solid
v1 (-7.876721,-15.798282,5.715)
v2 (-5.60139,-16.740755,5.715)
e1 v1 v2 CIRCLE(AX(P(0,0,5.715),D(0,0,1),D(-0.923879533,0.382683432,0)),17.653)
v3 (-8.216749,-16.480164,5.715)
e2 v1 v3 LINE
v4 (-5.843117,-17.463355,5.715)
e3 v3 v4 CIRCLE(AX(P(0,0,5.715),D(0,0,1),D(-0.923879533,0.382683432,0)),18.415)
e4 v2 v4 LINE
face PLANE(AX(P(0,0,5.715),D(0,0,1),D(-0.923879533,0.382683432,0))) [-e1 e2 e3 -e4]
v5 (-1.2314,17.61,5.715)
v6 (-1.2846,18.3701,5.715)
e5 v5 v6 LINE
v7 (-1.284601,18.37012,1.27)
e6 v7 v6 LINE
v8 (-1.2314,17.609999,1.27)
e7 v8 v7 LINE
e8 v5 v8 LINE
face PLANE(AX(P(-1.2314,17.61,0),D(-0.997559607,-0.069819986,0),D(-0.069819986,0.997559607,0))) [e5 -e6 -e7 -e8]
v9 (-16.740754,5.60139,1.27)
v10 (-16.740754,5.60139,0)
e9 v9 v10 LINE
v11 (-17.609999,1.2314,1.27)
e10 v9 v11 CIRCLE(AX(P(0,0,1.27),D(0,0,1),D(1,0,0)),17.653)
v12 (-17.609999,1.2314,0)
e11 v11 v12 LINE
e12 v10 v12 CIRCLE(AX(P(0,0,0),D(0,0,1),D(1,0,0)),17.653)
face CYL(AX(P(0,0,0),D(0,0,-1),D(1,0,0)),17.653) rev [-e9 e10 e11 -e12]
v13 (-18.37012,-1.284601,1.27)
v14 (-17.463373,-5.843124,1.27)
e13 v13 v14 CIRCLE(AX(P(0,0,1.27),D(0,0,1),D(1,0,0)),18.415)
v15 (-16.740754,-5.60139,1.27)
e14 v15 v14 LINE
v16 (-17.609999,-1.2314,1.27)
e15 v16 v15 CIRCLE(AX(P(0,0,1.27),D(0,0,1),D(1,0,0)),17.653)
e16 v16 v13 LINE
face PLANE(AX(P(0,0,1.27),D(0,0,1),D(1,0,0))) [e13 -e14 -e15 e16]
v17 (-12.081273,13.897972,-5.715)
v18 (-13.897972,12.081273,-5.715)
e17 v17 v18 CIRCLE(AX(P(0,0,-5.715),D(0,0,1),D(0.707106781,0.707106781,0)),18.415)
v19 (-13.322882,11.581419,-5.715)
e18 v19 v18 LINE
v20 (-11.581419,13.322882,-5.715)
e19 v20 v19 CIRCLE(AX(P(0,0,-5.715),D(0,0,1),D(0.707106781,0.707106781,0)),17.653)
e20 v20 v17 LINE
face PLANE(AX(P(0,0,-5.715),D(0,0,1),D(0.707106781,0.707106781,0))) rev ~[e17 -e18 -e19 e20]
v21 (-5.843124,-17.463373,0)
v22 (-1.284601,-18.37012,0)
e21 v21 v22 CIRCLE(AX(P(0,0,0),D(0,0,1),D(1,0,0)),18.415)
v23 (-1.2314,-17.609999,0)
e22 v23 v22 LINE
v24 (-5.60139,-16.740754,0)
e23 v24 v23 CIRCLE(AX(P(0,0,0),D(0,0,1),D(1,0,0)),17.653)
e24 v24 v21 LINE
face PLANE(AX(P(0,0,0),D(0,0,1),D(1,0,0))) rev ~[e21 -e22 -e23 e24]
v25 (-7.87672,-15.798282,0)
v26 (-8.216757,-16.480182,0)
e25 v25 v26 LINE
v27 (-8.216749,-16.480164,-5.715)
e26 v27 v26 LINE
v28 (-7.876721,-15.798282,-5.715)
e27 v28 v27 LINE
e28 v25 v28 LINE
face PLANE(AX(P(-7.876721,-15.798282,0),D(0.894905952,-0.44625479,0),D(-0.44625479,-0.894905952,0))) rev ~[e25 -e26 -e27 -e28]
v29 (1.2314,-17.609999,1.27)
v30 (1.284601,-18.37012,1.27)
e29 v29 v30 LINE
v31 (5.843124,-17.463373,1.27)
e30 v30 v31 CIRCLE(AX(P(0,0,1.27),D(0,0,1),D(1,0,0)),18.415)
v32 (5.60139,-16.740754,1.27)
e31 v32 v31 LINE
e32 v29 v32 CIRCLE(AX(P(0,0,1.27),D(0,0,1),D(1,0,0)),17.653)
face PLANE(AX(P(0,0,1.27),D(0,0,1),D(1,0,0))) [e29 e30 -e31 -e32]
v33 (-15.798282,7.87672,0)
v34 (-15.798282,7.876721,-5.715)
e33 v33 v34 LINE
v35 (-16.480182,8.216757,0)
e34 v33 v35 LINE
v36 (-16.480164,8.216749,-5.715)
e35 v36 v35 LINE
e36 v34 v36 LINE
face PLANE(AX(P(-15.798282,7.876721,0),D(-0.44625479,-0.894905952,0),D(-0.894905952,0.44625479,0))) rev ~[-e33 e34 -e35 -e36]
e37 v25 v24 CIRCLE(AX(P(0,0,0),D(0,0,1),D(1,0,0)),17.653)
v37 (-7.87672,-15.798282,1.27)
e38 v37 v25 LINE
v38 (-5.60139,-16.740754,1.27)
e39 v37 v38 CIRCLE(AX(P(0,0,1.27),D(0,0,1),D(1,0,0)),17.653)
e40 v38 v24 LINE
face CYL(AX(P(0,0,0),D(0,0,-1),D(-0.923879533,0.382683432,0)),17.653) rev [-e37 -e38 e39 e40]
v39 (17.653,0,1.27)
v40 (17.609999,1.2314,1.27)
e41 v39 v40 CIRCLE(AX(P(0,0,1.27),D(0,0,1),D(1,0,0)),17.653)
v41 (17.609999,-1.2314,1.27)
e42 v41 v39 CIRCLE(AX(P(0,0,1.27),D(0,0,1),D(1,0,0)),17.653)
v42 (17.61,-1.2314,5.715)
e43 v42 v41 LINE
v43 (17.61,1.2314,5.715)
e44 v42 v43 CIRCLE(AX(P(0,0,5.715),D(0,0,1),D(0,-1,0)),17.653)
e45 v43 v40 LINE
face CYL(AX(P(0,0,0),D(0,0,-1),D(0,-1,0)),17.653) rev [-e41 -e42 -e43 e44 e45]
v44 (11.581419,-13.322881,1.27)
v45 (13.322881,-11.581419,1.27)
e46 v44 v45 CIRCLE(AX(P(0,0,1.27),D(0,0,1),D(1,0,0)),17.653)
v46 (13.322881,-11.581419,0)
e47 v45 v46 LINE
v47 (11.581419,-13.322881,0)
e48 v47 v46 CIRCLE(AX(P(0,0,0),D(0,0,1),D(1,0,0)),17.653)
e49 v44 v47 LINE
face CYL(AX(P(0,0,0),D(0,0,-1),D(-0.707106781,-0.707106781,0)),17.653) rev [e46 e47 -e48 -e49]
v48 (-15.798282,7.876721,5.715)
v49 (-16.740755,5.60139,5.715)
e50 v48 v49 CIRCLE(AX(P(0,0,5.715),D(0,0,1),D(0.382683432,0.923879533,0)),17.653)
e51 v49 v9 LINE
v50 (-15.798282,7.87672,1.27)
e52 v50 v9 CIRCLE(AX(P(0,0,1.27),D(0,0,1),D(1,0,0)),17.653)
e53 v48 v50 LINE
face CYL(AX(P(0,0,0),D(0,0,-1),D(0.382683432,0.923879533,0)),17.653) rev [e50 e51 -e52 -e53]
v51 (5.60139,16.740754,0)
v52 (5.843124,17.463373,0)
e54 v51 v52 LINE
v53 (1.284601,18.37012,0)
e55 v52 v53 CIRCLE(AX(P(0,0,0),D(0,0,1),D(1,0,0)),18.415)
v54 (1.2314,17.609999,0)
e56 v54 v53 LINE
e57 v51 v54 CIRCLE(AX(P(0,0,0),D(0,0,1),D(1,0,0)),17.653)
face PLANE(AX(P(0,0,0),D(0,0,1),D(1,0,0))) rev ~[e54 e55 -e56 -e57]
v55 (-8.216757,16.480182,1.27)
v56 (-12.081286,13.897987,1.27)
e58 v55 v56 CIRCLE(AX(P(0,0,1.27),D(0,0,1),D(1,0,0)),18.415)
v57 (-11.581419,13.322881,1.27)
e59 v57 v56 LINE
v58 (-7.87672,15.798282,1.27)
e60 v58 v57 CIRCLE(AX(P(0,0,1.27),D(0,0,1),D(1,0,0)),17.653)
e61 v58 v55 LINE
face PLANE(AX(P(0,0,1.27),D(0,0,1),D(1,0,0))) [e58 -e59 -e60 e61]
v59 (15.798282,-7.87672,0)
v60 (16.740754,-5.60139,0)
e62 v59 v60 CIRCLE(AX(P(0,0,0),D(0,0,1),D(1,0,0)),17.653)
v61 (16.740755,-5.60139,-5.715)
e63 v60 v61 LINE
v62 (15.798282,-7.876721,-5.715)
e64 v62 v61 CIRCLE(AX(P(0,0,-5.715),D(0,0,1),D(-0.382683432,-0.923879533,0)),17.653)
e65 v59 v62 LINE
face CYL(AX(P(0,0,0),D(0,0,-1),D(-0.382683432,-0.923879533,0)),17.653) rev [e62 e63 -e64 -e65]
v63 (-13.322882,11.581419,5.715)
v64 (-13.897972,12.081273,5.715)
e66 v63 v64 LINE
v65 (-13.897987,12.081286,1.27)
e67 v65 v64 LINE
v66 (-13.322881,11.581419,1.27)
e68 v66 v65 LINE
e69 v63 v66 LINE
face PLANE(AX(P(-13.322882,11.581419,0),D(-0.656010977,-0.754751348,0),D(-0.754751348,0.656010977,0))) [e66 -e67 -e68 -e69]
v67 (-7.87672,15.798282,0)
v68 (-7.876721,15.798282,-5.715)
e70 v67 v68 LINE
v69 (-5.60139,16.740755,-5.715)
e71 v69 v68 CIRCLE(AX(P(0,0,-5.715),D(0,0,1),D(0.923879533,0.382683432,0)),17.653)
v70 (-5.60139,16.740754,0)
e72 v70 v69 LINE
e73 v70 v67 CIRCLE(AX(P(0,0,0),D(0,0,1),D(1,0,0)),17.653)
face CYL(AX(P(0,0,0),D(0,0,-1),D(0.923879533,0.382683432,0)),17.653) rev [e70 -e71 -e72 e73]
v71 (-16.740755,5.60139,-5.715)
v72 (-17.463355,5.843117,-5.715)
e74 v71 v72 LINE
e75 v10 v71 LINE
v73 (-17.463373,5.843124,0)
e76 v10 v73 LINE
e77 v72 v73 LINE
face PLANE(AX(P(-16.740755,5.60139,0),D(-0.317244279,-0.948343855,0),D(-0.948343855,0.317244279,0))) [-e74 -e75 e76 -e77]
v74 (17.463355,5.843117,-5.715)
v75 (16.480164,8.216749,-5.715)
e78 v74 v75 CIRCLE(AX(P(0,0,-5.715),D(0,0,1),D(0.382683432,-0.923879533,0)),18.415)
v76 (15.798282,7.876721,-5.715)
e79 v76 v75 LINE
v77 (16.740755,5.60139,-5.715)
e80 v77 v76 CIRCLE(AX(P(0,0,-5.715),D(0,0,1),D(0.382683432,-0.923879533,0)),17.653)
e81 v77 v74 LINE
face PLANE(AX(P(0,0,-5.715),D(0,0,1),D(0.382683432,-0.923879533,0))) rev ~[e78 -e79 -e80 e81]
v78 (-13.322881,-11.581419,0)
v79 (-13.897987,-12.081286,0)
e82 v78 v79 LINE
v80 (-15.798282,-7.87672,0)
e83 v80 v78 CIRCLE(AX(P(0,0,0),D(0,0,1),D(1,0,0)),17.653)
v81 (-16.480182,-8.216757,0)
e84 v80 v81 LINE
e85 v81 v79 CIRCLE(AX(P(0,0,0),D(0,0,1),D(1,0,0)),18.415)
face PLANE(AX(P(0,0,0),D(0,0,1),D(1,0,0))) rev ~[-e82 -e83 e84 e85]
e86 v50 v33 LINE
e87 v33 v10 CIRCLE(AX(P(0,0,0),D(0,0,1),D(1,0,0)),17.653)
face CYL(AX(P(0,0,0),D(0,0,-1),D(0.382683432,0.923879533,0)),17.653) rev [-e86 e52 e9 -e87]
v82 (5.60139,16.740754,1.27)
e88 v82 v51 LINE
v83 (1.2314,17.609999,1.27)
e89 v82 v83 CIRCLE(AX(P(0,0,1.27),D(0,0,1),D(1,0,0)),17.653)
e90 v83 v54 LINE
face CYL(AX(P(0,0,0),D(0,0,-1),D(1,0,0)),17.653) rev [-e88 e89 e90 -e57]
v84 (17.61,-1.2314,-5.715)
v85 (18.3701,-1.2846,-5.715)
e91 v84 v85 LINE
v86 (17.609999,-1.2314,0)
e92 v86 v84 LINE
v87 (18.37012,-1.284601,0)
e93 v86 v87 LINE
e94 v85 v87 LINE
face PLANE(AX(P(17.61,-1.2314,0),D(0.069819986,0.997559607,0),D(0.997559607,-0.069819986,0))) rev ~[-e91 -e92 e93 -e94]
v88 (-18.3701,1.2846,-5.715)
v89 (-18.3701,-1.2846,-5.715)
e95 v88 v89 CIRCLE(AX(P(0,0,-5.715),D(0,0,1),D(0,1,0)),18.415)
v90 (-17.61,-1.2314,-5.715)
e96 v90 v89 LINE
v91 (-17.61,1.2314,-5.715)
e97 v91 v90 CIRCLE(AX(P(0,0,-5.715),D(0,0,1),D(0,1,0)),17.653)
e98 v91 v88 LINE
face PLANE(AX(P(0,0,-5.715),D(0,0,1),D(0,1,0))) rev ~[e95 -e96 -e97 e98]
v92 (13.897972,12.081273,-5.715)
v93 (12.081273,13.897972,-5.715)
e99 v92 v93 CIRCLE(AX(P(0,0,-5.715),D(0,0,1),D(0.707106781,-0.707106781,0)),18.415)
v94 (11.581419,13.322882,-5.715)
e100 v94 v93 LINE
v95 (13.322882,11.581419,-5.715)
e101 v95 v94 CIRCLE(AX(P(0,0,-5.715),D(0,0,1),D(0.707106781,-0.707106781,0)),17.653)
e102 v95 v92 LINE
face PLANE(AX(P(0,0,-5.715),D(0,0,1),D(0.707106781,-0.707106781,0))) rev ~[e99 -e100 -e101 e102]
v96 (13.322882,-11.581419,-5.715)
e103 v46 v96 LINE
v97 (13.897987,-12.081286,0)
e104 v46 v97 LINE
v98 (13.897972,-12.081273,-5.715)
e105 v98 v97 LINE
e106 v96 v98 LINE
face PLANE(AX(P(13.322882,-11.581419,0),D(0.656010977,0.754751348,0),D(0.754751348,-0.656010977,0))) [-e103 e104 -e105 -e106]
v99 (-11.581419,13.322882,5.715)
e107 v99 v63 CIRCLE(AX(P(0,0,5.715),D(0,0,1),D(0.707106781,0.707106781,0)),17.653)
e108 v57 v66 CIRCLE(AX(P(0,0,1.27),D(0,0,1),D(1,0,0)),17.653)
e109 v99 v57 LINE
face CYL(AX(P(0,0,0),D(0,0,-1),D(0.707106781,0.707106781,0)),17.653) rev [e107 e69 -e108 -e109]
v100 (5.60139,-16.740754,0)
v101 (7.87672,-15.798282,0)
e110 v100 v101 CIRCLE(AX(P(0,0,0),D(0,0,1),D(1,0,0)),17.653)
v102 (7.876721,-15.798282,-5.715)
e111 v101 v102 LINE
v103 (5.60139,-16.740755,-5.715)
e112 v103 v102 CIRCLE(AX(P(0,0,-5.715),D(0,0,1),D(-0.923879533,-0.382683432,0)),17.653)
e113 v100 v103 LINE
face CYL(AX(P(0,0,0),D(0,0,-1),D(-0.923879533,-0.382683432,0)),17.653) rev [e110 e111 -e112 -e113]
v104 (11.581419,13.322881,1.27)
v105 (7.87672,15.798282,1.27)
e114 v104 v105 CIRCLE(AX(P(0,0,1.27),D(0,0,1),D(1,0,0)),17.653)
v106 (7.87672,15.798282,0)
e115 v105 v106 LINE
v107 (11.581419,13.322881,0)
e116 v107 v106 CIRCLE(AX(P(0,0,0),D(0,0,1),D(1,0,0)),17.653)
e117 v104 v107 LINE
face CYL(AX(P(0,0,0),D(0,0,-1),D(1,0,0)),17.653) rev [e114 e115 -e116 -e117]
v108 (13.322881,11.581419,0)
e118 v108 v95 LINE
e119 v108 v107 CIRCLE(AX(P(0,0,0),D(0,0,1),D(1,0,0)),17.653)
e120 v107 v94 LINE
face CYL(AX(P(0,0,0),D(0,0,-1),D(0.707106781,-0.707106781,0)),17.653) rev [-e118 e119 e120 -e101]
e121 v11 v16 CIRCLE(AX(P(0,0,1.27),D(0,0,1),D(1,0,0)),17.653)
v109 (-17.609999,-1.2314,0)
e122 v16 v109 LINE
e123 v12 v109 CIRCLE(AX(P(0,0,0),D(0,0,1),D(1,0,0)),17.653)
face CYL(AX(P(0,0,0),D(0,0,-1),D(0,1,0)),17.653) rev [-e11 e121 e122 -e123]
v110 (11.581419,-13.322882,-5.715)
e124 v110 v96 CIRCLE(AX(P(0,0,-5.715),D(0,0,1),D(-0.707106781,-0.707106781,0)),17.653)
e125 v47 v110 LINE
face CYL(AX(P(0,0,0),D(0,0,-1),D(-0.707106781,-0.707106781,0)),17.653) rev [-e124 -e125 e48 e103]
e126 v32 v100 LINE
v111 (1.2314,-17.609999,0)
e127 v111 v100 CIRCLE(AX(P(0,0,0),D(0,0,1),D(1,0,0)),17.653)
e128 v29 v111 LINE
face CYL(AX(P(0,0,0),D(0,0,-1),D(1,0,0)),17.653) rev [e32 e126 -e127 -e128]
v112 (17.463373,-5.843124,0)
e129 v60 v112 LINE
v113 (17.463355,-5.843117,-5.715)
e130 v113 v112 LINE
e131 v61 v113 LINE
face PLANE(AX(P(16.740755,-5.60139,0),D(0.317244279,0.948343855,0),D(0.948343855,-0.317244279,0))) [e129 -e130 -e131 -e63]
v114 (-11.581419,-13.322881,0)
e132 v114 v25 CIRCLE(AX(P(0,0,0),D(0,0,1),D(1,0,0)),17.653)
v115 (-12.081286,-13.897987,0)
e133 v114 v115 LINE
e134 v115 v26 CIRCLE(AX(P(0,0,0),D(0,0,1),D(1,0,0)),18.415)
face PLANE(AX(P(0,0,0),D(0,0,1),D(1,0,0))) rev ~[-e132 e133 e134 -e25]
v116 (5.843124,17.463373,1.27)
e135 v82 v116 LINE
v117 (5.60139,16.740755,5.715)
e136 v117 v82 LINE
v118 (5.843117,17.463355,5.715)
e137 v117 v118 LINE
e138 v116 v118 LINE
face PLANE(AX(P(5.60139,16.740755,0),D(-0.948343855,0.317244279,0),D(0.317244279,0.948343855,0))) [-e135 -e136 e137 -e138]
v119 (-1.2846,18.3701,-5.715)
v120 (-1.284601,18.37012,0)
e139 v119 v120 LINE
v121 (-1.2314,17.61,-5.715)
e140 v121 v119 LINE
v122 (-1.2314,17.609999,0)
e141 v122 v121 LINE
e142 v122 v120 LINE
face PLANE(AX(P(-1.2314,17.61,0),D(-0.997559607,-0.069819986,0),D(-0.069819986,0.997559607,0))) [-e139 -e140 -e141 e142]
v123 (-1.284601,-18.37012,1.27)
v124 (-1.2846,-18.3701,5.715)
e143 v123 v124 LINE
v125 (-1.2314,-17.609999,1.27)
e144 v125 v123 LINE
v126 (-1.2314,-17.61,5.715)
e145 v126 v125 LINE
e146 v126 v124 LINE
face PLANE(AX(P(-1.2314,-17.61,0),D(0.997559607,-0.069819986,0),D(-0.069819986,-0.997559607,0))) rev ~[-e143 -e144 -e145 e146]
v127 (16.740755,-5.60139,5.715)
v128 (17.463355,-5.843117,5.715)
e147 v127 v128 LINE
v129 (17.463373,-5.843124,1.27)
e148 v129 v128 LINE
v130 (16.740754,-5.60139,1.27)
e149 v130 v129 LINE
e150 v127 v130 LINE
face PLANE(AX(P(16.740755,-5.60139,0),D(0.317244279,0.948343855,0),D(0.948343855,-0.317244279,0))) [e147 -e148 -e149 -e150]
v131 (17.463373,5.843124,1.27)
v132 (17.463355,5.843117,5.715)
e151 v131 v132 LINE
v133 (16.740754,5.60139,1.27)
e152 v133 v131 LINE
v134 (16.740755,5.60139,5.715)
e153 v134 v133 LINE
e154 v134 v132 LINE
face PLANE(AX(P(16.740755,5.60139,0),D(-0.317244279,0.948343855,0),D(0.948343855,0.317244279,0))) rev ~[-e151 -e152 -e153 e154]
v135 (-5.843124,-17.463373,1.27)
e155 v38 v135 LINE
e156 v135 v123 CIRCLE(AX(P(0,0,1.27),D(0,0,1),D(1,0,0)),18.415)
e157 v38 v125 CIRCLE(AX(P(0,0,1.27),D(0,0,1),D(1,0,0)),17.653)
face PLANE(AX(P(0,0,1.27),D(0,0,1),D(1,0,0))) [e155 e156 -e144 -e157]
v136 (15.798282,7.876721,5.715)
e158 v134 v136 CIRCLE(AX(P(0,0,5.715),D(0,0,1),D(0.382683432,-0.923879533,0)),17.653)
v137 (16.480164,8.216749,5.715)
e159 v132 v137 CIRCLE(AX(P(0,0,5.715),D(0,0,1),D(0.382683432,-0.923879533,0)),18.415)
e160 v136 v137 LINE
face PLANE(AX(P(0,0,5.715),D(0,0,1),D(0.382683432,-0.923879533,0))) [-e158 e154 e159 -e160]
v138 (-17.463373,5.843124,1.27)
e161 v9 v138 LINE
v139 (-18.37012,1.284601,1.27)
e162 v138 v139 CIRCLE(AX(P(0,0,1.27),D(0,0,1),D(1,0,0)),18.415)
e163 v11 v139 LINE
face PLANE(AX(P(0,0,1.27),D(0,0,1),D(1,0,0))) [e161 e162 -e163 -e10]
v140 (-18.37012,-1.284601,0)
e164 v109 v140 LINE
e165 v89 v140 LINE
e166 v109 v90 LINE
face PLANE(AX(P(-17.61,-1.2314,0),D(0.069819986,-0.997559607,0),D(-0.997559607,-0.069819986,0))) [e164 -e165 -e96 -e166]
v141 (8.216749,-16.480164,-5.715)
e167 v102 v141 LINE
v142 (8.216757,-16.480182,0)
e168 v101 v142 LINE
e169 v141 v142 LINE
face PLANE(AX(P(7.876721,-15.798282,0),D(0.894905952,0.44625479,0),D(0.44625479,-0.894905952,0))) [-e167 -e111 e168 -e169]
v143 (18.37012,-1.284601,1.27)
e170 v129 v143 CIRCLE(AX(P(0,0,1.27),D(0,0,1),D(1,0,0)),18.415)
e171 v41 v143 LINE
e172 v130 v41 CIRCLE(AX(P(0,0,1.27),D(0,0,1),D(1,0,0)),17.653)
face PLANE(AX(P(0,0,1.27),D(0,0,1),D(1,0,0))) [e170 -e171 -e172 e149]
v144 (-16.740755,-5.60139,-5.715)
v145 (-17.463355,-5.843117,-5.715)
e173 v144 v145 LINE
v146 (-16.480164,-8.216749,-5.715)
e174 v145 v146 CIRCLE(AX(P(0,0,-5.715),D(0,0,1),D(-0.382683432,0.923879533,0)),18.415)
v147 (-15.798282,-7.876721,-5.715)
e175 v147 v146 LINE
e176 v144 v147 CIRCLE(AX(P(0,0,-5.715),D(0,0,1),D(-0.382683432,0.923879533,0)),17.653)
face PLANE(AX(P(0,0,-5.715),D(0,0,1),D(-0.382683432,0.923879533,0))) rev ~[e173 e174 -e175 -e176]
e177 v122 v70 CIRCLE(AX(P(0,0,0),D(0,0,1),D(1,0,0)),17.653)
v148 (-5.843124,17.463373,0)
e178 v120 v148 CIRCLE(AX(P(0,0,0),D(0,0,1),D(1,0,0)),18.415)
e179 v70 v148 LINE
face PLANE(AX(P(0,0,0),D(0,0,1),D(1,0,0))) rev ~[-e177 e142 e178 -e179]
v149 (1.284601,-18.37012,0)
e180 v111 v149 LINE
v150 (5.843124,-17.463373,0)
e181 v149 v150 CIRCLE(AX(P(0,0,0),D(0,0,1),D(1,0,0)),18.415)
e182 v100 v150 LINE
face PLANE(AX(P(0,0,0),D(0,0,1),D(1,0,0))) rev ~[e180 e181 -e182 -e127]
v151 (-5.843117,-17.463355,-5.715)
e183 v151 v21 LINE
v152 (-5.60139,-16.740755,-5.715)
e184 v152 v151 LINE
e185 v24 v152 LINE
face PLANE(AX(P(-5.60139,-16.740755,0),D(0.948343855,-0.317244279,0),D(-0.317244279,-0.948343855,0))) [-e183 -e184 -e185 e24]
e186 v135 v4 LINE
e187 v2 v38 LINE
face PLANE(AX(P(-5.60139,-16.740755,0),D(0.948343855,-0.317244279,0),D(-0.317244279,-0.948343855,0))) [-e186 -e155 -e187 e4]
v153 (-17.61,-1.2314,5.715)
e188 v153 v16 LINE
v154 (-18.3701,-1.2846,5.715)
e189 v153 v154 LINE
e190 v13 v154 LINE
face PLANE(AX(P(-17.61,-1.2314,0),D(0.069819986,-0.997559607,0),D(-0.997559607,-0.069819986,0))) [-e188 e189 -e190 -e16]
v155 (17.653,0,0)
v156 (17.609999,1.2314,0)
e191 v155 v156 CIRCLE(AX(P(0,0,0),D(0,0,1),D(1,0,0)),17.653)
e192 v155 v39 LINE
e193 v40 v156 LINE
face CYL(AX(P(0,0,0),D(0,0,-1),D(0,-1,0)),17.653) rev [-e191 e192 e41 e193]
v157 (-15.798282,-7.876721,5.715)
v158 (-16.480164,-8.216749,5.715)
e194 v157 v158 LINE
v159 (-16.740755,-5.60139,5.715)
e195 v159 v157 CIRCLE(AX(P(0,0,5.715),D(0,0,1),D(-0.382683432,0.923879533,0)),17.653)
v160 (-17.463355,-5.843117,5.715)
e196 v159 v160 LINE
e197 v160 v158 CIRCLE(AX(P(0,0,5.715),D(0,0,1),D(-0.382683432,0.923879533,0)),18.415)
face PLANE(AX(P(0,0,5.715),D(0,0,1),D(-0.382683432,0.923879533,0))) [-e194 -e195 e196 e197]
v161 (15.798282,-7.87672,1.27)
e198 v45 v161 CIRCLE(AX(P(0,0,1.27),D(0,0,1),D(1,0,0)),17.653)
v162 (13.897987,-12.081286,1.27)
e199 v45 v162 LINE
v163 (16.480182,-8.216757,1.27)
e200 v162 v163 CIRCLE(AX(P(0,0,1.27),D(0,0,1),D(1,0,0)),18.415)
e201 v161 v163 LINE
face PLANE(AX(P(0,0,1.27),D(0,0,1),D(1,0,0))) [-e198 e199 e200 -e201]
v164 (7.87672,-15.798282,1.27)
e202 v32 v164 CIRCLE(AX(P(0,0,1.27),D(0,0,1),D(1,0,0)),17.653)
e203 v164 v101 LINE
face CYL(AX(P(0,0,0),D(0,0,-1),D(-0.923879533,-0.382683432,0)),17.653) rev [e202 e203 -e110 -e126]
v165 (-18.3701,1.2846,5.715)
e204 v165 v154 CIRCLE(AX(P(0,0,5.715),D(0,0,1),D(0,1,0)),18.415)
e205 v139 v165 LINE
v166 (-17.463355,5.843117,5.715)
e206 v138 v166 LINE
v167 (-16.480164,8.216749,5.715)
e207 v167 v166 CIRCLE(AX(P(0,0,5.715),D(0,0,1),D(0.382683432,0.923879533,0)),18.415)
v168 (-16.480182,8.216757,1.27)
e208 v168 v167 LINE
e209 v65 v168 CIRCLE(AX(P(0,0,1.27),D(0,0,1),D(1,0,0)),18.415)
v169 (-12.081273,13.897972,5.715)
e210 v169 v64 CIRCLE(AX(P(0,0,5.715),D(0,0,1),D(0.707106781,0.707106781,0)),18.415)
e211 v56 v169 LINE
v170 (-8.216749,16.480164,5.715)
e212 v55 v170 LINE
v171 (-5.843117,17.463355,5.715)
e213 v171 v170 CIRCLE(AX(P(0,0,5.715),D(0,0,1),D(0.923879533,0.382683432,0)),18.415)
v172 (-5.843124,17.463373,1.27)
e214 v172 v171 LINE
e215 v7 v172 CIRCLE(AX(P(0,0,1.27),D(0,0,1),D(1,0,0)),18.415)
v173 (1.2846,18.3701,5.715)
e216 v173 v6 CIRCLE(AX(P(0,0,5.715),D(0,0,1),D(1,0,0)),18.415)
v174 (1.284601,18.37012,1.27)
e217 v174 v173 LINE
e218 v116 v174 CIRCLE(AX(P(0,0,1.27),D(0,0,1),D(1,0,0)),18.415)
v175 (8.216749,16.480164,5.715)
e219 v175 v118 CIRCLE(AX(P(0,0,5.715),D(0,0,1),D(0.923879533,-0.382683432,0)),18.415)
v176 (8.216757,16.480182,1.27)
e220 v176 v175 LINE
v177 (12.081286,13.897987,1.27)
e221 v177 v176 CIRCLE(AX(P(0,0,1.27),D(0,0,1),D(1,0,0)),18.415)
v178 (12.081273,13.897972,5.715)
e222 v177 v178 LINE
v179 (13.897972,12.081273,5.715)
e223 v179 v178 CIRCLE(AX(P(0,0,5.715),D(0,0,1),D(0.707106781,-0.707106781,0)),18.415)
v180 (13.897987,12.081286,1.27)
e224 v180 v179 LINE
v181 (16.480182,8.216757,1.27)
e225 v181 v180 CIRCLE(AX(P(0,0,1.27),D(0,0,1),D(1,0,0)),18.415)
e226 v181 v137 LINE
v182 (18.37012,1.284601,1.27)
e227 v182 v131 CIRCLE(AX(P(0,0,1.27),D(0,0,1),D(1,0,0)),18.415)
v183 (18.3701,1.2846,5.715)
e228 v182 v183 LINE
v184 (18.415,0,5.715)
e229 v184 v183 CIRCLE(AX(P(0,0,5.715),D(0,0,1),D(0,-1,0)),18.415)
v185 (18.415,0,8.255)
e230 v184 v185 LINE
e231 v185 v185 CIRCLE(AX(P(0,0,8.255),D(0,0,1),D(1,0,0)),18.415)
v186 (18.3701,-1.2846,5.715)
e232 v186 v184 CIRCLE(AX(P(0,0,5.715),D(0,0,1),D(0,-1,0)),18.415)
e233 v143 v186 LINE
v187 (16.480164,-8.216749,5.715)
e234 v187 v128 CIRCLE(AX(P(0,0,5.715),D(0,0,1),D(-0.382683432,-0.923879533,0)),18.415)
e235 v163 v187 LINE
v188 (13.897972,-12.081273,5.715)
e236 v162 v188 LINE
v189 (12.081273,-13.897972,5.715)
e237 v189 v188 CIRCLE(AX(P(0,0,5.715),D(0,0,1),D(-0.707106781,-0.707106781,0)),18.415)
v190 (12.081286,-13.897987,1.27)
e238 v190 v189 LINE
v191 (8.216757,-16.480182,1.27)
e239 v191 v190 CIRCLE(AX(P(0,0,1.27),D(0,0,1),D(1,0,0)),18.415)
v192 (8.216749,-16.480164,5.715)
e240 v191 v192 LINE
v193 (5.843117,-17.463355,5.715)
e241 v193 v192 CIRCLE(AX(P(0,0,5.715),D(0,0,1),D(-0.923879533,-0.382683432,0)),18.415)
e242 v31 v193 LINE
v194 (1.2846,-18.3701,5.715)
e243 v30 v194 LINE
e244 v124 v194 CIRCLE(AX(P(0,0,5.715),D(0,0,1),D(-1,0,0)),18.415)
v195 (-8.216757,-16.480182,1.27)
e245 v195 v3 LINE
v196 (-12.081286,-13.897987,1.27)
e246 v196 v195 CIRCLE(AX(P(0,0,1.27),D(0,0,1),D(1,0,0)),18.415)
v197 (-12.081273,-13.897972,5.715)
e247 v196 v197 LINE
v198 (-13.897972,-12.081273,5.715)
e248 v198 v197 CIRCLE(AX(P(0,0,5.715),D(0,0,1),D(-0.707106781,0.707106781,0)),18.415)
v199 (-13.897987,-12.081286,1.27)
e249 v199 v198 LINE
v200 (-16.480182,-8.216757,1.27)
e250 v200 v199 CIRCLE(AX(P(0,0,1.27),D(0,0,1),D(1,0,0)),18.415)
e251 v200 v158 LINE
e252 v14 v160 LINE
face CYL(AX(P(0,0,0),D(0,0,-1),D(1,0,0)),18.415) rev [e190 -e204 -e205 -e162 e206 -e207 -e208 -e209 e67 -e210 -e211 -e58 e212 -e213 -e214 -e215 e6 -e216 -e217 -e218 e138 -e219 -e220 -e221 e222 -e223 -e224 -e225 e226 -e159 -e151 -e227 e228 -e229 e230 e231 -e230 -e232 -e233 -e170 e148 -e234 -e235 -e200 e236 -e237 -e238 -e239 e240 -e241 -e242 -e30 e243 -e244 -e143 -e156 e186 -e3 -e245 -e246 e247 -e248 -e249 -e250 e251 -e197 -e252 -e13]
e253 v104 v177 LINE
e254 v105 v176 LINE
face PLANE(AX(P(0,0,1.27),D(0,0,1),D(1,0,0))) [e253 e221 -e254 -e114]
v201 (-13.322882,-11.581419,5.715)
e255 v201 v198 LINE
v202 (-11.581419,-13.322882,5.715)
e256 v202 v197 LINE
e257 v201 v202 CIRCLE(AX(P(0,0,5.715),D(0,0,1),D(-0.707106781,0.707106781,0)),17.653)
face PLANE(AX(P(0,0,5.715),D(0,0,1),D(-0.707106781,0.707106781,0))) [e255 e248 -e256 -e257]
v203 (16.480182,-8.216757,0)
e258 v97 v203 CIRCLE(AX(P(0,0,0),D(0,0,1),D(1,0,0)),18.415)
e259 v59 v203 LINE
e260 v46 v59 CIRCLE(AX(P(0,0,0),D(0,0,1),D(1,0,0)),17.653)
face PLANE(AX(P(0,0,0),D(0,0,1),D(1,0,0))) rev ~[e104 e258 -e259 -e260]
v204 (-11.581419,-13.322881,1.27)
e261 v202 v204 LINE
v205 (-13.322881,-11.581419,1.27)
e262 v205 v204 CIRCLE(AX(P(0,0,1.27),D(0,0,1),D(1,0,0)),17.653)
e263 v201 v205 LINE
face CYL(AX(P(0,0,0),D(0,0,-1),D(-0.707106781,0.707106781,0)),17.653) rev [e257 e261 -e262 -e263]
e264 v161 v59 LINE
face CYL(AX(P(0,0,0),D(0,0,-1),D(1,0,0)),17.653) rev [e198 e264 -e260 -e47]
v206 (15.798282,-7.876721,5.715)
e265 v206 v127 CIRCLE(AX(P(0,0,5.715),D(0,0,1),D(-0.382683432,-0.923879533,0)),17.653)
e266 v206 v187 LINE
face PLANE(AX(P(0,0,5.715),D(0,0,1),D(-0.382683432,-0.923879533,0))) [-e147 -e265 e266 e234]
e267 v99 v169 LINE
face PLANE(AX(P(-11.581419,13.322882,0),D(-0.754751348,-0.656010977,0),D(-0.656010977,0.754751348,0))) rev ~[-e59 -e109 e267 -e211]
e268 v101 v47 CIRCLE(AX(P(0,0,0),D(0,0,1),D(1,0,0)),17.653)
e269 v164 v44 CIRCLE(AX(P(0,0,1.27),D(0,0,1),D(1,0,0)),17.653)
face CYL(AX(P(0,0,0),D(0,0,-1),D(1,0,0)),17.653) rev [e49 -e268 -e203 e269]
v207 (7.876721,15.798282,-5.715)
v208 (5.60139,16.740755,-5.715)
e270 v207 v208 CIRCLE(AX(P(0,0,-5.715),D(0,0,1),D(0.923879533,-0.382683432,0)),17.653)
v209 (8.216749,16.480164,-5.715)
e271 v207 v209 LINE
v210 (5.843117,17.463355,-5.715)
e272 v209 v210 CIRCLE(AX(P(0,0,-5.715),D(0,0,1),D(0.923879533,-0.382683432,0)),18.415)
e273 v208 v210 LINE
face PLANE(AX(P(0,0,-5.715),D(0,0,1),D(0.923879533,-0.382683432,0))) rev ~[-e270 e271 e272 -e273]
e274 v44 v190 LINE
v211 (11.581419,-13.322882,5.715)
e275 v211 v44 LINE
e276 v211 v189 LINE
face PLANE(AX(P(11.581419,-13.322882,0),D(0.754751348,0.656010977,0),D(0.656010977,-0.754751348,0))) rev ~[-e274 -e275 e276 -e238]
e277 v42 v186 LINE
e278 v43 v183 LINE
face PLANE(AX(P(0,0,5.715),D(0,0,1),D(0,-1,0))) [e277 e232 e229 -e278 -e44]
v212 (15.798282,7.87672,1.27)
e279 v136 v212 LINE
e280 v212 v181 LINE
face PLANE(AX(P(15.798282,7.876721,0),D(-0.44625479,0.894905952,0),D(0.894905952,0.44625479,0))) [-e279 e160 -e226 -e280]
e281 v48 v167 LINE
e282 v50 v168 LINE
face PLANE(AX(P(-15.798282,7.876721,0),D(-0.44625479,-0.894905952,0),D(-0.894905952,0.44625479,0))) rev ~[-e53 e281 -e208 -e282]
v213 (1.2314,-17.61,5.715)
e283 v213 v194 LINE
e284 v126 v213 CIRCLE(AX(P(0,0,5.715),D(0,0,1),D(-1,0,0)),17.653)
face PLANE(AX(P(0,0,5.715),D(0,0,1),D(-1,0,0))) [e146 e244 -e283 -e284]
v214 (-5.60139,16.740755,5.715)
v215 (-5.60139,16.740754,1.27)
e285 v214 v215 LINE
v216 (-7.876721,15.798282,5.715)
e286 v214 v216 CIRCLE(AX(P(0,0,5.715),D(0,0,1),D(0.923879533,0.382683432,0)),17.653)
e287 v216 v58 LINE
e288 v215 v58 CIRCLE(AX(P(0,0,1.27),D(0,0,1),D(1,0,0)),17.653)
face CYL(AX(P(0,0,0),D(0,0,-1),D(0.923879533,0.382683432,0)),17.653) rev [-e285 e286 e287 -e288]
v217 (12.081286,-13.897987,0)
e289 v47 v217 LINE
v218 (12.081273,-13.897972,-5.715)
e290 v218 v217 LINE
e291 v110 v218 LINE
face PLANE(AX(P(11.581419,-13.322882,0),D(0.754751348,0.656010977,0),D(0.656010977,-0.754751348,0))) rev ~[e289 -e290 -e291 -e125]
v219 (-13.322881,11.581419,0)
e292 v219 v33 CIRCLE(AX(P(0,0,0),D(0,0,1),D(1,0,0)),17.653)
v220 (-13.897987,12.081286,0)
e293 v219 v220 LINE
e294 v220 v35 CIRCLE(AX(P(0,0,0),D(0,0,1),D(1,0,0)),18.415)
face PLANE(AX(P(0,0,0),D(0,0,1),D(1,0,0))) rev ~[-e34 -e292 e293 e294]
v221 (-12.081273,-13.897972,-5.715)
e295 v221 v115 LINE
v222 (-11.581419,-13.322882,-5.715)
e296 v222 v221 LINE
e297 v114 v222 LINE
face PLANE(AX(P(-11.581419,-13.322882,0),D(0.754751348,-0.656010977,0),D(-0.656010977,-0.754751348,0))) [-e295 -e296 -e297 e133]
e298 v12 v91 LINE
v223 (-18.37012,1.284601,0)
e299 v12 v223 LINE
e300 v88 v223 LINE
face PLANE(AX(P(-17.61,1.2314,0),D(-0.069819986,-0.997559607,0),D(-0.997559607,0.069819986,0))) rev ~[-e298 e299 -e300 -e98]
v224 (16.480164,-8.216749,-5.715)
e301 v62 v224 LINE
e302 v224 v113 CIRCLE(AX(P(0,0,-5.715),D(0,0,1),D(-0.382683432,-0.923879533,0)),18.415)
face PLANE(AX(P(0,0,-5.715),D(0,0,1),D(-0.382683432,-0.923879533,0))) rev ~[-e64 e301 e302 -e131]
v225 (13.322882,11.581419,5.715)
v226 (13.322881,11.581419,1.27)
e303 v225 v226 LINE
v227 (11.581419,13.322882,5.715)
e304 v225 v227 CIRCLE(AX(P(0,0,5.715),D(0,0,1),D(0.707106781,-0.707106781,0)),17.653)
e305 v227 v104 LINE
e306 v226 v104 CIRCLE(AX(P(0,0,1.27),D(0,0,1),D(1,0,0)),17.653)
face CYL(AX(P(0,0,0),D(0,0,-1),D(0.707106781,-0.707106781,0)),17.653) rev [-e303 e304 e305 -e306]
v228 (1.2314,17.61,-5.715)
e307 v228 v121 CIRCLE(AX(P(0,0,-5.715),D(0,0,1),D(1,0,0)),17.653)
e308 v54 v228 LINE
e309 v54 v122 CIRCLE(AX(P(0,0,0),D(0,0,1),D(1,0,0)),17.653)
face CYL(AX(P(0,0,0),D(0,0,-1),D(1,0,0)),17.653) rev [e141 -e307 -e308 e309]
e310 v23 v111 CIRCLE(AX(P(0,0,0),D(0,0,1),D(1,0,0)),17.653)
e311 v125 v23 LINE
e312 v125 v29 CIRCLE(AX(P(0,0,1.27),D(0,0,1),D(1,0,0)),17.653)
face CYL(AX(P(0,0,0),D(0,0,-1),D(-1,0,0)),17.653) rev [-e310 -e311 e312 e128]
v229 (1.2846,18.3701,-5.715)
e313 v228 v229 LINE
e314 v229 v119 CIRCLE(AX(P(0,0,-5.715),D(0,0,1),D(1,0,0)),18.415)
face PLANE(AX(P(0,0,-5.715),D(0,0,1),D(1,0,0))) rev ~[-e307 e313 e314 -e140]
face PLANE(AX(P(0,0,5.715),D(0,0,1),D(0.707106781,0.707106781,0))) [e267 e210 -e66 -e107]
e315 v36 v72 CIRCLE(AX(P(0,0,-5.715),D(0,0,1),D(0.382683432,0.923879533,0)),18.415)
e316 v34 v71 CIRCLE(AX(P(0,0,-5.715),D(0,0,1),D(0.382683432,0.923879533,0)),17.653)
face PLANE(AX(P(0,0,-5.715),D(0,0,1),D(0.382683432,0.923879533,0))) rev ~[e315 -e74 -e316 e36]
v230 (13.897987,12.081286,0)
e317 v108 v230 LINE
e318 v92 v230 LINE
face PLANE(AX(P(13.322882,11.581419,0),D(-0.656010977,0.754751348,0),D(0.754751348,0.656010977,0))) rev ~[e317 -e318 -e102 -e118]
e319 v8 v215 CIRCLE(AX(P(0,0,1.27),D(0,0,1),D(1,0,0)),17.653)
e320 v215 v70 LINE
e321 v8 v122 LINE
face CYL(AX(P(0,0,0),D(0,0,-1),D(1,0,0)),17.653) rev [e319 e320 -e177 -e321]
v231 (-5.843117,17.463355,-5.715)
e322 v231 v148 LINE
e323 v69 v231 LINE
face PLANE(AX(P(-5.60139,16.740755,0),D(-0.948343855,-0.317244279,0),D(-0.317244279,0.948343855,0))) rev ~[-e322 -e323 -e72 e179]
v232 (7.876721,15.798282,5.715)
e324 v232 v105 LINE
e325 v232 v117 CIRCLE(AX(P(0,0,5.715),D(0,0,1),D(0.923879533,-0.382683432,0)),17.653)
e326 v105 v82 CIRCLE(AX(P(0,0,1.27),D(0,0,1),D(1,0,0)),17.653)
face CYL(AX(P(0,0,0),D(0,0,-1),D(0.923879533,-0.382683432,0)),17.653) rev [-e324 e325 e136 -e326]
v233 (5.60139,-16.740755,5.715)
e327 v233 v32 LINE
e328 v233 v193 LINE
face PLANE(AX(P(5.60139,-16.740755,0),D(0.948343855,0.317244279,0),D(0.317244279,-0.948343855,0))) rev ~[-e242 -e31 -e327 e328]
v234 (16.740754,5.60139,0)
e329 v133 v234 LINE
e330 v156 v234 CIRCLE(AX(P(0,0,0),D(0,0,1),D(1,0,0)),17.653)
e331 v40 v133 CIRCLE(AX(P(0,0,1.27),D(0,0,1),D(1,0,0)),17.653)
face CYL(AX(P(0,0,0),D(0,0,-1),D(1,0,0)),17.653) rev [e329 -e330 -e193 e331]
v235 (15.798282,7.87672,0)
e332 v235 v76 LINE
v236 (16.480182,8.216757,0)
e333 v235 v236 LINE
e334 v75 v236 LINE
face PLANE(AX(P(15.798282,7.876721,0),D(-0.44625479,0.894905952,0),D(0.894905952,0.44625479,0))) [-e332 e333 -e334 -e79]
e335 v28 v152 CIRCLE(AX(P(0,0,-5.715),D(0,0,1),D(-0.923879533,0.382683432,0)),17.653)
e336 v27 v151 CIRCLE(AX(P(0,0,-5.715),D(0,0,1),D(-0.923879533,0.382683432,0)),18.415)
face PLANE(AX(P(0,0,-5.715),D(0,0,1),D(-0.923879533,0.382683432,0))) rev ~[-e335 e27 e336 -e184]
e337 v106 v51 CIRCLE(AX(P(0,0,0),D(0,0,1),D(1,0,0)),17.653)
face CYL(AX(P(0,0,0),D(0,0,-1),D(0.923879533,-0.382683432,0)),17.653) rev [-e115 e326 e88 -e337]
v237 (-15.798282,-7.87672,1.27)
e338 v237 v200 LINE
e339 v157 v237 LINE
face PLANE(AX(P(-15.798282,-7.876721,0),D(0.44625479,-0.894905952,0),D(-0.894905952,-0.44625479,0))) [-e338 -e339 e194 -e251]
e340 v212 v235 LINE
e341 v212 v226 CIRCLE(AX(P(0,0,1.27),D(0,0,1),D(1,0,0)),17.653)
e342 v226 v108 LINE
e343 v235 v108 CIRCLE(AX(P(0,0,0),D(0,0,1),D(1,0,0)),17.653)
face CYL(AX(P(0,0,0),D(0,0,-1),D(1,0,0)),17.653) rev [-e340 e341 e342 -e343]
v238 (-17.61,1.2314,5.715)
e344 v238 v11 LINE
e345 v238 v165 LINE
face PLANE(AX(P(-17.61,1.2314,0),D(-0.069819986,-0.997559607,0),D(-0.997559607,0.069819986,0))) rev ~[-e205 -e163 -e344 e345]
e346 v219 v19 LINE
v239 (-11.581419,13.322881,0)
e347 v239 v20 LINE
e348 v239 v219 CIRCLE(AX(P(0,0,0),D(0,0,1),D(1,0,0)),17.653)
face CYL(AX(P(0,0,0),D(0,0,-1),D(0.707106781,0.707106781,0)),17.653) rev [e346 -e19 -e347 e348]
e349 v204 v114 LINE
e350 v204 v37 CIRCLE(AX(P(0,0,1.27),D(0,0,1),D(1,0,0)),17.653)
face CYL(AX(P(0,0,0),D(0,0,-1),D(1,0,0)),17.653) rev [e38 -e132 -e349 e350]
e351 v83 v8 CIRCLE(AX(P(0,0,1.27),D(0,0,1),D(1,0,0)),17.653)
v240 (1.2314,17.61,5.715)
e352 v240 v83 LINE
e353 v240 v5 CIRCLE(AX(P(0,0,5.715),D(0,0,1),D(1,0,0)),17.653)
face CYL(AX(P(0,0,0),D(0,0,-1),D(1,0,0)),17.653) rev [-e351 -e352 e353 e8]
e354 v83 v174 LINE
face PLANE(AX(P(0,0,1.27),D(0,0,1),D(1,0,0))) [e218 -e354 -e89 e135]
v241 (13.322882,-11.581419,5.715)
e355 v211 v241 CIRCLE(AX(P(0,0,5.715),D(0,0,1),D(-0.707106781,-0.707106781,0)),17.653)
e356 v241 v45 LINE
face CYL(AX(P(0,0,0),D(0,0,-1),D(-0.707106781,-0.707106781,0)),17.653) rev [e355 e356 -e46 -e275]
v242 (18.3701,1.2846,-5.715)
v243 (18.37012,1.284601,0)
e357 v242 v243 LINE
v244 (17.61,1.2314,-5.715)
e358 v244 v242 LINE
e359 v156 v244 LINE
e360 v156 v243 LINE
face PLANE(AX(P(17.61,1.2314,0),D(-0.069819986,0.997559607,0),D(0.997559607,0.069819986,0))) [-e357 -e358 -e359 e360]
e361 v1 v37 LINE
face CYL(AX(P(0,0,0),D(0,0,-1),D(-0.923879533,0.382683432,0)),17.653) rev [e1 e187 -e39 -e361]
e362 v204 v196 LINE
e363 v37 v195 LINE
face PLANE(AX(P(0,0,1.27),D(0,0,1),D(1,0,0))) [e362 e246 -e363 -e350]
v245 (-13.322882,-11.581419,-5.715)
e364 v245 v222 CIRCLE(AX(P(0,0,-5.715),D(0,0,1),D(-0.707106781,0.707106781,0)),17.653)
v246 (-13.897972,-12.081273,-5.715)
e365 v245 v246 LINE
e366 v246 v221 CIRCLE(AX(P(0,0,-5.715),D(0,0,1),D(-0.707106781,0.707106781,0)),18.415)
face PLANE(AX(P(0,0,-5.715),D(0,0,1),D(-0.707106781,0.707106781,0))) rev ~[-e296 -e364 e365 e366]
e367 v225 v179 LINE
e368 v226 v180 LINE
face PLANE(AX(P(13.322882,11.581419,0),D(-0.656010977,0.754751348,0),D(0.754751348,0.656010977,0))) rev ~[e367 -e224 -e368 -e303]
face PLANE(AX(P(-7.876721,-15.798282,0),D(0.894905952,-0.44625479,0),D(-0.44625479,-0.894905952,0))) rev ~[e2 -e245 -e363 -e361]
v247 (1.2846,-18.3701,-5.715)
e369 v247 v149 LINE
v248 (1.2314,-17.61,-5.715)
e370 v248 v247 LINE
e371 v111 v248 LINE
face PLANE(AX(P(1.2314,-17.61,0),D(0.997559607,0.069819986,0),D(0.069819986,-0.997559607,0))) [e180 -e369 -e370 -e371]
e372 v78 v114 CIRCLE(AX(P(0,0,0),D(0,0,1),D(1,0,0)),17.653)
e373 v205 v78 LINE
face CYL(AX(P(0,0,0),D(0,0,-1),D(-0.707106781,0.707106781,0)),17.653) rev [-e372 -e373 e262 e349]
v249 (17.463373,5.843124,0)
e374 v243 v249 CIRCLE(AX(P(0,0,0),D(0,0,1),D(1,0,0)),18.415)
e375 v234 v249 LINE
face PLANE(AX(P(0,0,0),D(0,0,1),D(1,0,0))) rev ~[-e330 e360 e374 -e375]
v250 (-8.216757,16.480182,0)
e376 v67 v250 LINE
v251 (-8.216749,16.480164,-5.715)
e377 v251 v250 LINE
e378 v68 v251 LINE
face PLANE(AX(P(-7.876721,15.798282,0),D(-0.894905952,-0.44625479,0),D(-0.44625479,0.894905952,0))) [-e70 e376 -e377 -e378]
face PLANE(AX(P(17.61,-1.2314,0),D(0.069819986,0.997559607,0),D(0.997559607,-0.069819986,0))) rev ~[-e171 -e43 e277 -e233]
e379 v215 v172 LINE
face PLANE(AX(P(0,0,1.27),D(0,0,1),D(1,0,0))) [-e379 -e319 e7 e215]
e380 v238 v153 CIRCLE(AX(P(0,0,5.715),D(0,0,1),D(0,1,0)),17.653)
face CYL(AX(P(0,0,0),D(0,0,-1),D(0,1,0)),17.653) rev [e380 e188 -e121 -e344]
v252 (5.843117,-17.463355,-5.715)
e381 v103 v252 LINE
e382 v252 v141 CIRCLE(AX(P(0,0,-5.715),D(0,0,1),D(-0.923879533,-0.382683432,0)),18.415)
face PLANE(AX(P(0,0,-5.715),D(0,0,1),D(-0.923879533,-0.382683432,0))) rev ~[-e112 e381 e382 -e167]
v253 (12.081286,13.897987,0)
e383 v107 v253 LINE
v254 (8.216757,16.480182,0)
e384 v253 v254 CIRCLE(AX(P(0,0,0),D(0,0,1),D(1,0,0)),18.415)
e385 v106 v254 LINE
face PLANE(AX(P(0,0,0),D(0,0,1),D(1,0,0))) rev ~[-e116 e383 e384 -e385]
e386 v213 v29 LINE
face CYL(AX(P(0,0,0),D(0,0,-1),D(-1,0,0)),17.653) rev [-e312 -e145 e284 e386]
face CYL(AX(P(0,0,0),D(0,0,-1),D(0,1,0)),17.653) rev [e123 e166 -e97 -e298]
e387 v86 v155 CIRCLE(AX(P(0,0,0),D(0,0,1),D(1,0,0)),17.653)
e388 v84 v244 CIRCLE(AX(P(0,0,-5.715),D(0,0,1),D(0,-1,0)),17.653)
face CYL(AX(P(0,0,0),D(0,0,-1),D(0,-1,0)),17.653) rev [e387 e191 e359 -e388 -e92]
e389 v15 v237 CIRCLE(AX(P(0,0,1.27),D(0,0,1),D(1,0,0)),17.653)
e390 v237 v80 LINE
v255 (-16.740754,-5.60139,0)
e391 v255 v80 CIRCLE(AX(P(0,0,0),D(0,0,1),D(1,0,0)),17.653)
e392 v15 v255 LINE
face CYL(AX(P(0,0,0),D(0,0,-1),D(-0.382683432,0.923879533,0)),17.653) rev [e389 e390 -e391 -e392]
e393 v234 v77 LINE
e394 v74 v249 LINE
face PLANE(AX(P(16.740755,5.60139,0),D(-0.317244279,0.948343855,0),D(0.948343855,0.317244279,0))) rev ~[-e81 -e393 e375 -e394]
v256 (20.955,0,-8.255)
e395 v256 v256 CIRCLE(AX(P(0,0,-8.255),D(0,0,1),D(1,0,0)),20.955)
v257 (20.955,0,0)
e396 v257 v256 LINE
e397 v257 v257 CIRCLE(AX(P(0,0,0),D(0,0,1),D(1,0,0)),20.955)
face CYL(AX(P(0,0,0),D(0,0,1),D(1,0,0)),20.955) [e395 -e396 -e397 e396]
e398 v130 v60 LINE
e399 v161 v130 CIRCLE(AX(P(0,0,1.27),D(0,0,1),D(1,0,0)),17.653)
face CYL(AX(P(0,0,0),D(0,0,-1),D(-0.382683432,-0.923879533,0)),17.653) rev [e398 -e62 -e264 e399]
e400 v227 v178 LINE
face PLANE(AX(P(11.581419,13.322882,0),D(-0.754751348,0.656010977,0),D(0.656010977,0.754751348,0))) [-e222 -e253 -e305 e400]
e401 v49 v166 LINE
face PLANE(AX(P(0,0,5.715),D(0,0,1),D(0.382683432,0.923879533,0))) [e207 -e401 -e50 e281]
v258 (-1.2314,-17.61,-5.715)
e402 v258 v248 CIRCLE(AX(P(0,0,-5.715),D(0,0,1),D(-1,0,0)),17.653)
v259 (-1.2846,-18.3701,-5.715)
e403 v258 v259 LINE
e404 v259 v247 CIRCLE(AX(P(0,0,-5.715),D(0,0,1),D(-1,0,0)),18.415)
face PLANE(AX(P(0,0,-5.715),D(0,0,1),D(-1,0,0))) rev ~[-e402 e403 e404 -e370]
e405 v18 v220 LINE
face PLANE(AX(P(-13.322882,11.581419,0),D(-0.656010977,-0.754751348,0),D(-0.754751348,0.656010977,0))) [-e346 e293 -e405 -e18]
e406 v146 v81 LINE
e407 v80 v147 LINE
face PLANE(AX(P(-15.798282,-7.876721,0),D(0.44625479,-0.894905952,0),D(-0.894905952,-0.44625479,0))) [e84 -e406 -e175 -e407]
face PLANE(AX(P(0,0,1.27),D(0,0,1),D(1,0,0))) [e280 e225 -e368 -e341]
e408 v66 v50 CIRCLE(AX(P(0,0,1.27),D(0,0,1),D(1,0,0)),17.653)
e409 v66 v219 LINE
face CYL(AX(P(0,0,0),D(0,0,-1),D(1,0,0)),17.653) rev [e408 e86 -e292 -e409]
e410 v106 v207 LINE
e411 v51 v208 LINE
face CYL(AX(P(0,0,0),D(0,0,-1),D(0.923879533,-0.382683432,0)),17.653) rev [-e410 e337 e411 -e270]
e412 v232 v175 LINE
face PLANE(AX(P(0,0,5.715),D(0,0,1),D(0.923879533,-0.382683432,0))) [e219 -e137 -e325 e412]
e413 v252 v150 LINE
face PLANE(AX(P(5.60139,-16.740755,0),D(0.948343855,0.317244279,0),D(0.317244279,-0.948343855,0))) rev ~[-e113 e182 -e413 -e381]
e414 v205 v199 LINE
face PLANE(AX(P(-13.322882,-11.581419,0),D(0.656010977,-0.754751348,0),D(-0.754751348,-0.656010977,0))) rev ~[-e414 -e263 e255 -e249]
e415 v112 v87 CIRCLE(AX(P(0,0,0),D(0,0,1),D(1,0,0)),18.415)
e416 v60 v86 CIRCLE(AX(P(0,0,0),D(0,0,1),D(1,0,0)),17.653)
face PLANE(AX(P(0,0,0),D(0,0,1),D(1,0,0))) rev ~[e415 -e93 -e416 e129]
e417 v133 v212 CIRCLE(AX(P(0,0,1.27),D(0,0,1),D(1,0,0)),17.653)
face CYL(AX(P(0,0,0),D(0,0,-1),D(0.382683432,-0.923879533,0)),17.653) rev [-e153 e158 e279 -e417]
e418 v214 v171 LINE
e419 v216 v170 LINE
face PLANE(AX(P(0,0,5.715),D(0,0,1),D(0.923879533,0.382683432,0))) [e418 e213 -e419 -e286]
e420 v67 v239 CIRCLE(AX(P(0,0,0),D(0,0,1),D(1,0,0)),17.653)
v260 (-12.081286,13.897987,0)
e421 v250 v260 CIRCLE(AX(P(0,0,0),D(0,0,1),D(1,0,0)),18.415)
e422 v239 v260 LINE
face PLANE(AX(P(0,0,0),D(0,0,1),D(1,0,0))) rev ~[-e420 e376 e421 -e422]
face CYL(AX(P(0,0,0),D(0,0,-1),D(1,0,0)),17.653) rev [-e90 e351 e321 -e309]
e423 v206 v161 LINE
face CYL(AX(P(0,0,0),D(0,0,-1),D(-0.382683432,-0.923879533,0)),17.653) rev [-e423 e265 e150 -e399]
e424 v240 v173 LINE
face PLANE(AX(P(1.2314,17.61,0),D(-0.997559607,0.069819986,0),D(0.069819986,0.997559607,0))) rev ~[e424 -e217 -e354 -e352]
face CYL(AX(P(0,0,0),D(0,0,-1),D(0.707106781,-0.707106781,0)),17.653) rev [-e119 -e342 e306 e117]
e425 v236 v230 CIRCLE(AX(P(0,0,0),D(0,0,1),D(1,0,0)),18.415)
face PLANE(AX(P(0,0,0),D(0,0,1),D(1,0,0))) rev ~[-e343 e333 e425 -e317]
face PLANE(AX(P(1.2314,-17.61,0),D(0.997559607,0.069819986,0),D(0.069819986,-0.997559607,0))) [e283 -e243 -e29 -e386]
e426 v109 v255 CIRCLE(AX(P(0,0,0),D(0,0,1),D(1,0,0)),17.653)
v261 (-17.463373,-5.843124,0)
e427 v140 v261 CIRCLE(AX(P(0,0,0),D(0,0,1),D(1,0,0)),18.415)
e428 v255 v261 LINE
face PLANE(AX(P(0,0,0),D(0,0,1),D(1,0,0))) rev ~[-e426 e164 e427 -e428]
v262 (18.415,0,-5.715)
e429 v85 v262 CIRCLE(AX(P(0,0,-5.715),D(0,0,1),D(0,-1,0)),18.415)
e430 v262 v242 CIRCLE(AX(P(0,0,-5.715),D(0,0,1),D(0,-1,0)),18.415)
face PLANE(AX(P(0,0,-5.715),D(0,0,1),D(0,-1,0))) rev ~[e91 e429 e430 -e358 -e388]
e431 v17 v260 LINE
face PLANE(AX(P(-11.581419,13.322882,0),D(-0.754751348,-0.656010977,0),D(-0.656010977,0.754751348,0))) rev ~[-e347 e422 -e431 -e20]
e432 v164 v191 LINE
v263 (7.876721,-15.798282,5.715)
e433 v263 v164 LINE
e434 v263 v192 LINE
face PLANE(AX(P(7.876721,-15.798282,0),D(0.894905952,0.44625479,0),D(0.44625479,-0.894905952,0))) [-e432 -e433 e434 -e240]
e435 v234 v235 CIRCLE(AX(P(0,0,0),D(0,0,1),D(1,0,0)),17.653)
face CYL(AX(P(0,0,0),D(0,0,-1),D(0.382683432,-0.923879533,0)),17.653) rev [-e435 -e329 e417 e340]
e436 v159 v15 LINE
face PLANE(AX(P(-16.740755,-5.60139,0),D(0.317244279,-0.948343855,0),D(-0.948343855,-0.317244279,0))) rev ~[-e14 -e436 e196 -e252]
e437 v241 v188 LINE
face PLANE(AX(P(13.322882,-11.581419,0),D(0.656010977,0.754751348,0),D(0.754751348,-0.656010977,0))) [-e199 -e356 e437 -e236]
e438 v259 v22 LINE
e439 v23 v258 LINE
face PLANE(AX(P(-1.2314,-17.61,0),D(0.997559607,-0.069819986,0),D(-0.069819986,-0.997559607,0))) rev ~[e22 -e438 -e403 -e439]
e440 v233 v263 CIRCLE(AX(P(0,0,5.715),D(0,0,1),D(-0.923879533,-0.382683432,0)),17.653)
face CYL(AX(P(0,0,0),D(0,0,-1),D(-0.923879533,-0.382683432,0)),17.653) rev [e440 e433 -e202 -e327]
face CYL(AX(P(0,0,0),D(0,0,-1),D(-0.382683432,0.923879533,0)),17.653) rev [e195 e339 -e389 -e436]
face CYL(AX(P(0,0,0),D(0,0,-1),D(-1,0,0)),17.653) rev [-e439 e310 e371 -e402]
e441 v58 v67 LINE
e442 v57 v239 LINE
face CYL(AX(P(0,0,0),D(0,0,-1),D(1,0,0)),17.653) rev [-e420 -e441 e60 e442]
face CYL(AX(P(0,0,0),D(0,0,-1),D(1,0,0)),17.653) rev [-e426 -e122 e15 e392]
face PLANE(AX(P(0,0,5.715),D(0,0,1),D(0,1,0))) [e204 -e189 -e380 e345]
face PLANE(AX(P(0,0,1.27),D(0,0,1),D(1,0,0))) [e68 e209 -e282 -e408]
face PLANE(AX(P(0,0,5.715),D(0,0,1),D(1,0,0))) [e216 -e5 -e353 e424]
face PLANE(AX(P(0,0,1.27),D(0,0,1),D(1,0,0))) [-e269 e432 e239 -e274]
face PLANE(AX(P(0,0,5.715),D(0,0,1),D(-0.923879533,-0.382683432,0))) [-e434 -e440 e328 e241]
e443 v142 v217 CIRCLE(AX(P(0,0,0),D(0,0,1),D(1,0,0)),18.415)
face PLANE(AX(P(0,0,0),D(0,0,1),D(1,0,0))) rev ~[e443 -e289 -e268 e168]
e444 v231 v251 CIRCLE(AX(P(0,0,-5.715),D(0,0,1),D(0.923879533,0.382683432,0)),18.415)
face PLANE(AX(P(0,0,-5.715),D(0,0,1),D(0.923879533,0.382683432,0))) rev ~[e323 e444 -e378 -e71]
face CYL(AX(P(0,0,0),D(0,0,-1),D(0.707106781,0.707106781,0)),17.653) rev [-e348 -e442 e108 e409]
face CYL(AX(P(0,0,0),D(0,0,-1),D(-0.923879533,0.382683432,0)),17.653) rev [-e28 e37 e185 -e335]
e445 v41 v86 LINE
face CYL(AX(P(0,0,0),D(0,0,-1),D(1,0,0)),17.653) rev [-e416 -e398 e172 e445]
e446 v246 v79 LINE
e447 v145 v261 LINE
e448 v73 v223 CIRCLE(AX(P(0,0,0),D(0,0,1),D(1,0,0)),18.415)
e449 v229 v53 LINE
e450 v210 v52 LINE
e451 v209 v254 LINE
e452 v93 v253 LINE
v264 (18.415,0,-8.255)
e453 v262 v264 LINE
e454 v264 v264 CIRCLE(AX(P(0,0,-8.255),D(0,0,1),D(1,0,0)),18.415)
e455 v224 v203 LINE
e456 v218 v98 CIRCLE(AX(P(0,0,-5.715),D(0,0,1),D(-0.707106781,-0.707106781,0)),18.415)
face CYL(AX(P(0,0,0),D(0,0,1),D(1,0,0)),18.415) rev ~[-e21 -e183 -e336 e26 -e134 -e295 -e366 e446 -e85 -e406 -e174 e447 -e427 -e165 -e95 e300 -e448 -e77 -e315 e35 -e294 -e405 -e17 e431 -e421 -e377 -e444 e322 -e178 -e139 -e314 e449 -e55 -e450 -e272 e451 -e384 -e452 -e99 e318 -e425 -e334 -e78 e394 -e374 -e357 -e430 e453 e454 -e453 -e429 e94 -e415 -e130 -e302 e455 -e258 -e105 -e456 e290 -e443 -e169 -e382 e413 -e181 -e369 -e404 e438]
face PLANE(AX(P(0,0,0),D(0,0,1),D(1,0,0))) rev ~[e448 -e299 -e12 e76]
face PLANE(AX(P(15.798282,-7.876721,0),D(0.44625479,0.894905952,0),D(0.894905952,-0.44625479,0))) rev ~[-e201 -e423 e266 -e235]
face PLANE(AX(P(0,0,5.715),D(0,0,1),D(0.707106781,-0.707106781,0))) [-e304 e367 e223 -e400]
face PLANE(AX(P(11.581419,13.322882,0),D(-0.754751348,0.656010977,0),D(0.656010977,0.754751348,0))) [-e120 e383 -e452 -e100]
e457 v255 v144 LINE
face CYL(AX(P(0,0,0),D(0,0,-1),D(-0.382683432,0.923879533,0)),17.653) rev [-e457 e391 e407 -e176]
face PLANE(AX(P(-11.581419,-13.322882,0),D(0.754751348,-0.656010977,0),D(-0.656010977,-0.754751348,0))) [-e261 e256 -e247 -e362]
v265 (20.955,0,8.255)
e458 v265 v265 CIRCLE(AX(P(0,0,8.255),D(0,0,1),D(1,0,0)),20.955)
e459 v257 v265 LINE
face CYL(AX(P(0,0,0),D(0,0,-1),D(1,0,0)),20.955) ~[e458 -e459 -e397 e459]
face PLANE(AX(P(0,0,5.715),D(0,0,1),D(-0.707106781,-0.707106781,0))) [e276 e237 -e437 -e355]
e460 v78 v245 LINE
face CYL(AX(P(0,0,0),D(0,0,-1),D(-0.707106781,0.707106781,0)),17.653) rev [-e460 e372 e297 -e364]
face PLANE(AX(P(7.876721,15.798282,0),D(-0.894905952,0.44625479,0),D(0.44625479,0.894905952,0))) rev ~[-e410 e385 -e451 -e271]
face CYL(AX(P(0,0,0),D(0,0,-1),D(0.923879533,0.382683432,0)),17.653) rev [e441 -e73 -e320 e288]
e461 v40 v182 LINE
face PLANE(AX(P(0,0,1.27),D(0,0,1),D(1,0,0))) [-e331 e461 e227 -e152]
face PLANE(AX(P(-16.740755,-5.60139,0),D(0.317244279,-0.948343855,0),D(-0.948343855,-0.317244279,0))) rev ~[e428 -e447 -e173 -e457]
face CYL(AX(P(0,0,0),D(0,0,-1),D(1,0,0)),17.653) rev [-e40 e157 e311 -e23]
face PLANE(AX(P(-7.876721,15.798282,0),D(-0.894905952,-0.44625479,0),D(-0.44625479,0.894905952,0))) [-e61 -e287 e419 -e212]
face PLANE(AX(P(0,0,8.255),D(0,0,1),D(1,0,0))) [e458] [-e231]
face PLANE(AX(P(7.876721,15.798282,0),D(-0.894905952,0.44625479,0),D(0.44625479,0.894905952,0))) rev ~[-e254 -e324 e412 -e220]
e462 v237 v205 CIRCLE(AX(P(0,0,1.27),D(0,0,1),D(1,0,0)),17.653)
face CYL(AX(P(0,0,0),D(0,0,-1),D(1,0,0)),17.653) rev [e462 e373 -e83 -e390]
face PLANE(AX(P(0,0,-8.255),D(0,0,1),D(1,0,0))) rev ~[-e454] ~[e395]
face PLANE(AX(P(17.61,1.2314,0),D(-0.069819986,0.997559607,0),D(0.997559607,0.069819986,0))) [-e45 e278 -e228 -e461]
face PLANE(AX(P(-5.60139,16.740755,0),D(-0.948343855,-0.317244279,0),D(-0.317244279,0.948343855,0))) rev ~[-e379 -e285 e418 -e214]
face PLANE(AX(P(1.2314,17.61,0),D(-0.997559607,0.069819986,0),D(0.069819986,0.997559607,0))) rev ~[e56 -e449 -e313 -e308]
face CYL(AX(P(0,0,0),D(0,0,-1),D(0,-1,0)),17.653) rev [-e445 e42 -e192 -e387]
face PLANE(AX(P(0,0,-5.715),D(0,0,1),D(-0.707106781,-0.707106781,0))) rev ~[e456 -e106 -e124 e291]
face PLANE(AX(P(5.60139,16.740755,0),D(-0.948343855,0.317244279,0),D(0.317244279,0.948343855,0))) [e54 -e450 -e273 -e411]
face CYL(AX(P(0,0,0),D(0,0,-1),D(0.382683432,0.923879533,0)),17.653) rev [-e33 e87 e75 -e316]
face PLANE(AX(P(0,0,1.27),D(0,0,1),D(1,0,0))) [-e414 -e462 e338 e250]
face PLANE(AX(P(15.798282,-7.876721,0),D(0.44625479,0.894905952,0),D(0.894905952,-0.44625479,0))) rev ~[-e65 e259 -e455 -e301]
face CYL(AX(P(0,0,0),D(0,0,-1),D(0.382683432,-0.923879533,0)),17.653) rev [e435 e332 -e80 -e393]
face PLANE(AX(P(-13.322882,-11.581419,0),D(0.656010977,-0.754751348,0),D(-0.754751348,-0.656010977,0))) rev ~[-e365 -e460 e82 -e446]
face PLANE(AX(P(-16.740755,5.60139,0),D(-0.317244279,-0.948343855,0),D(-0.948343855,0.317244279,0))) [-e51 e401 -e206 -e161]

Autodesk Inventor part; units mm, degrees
ref_plane "YZ Plane" through (0, 0, 0) normal (1, 0, 0) x (0, 1, 0)
ref_plane "XZ Plane" through (0, 0, 0) normal (0, 1, 0) x (-1, 0, 0)
sketch "Sketch2" plane through (0, 0, 0) normal (0, 0, 1) x (1, 0, 0)
  circle A0 centre (0, 0) radius 20.955
  circle A1 centre (0, 0) radius 18.415
  circle A2 centre (0, 0) radius 17.653
  dimension "d4" = 41.91
  dimension "d5" = 2.54
  dimension "d6" = 0.762
extrude "Extrusion2" add sketch "Sketch2" along normal mid plane 16.51 contours A0
ref_plane "Work Plane1" through (0, 0, 0) normal (0, 0, 1) x (1, 0, 0)
sketch "Sketch4" plane through (0, 0, 0) normal (0, 0, 1) x (1, 0, 0)
  line L0 (0, 0) -> (0, 18.3729) construction
  circle A0 centre (0, 0) radius 18.415 projected
  circle A1 centre (0, 0) radius 17.653 projected
  line L1 (1.2314, 17.61) -> (1.2846, 18.3701)
  circle A2 centre (0, 0) radius 18.415 projected
  line L2 (-1.2314, 17.61) -> (-1.2846, 18.3701)
  dimension "d11" = 4
  dimension "d12" = 4
extrude "Extrusion3" add sketch "Sketch4" along normal mid plane 11.43 contours L1 A1 L2 A0 picked at (-0.1369, 18.1561)
pattern_circular "Circular Pattern1" count 16 over 360 about axis through (0, 0, 0) along (0, 0, 1) of "Extrusion3"
extrude "Extrusion4" add sketch "Sketch2" along normal blind 1.27 contours A1
properties part number "Tire" material "ABS Plastic"
